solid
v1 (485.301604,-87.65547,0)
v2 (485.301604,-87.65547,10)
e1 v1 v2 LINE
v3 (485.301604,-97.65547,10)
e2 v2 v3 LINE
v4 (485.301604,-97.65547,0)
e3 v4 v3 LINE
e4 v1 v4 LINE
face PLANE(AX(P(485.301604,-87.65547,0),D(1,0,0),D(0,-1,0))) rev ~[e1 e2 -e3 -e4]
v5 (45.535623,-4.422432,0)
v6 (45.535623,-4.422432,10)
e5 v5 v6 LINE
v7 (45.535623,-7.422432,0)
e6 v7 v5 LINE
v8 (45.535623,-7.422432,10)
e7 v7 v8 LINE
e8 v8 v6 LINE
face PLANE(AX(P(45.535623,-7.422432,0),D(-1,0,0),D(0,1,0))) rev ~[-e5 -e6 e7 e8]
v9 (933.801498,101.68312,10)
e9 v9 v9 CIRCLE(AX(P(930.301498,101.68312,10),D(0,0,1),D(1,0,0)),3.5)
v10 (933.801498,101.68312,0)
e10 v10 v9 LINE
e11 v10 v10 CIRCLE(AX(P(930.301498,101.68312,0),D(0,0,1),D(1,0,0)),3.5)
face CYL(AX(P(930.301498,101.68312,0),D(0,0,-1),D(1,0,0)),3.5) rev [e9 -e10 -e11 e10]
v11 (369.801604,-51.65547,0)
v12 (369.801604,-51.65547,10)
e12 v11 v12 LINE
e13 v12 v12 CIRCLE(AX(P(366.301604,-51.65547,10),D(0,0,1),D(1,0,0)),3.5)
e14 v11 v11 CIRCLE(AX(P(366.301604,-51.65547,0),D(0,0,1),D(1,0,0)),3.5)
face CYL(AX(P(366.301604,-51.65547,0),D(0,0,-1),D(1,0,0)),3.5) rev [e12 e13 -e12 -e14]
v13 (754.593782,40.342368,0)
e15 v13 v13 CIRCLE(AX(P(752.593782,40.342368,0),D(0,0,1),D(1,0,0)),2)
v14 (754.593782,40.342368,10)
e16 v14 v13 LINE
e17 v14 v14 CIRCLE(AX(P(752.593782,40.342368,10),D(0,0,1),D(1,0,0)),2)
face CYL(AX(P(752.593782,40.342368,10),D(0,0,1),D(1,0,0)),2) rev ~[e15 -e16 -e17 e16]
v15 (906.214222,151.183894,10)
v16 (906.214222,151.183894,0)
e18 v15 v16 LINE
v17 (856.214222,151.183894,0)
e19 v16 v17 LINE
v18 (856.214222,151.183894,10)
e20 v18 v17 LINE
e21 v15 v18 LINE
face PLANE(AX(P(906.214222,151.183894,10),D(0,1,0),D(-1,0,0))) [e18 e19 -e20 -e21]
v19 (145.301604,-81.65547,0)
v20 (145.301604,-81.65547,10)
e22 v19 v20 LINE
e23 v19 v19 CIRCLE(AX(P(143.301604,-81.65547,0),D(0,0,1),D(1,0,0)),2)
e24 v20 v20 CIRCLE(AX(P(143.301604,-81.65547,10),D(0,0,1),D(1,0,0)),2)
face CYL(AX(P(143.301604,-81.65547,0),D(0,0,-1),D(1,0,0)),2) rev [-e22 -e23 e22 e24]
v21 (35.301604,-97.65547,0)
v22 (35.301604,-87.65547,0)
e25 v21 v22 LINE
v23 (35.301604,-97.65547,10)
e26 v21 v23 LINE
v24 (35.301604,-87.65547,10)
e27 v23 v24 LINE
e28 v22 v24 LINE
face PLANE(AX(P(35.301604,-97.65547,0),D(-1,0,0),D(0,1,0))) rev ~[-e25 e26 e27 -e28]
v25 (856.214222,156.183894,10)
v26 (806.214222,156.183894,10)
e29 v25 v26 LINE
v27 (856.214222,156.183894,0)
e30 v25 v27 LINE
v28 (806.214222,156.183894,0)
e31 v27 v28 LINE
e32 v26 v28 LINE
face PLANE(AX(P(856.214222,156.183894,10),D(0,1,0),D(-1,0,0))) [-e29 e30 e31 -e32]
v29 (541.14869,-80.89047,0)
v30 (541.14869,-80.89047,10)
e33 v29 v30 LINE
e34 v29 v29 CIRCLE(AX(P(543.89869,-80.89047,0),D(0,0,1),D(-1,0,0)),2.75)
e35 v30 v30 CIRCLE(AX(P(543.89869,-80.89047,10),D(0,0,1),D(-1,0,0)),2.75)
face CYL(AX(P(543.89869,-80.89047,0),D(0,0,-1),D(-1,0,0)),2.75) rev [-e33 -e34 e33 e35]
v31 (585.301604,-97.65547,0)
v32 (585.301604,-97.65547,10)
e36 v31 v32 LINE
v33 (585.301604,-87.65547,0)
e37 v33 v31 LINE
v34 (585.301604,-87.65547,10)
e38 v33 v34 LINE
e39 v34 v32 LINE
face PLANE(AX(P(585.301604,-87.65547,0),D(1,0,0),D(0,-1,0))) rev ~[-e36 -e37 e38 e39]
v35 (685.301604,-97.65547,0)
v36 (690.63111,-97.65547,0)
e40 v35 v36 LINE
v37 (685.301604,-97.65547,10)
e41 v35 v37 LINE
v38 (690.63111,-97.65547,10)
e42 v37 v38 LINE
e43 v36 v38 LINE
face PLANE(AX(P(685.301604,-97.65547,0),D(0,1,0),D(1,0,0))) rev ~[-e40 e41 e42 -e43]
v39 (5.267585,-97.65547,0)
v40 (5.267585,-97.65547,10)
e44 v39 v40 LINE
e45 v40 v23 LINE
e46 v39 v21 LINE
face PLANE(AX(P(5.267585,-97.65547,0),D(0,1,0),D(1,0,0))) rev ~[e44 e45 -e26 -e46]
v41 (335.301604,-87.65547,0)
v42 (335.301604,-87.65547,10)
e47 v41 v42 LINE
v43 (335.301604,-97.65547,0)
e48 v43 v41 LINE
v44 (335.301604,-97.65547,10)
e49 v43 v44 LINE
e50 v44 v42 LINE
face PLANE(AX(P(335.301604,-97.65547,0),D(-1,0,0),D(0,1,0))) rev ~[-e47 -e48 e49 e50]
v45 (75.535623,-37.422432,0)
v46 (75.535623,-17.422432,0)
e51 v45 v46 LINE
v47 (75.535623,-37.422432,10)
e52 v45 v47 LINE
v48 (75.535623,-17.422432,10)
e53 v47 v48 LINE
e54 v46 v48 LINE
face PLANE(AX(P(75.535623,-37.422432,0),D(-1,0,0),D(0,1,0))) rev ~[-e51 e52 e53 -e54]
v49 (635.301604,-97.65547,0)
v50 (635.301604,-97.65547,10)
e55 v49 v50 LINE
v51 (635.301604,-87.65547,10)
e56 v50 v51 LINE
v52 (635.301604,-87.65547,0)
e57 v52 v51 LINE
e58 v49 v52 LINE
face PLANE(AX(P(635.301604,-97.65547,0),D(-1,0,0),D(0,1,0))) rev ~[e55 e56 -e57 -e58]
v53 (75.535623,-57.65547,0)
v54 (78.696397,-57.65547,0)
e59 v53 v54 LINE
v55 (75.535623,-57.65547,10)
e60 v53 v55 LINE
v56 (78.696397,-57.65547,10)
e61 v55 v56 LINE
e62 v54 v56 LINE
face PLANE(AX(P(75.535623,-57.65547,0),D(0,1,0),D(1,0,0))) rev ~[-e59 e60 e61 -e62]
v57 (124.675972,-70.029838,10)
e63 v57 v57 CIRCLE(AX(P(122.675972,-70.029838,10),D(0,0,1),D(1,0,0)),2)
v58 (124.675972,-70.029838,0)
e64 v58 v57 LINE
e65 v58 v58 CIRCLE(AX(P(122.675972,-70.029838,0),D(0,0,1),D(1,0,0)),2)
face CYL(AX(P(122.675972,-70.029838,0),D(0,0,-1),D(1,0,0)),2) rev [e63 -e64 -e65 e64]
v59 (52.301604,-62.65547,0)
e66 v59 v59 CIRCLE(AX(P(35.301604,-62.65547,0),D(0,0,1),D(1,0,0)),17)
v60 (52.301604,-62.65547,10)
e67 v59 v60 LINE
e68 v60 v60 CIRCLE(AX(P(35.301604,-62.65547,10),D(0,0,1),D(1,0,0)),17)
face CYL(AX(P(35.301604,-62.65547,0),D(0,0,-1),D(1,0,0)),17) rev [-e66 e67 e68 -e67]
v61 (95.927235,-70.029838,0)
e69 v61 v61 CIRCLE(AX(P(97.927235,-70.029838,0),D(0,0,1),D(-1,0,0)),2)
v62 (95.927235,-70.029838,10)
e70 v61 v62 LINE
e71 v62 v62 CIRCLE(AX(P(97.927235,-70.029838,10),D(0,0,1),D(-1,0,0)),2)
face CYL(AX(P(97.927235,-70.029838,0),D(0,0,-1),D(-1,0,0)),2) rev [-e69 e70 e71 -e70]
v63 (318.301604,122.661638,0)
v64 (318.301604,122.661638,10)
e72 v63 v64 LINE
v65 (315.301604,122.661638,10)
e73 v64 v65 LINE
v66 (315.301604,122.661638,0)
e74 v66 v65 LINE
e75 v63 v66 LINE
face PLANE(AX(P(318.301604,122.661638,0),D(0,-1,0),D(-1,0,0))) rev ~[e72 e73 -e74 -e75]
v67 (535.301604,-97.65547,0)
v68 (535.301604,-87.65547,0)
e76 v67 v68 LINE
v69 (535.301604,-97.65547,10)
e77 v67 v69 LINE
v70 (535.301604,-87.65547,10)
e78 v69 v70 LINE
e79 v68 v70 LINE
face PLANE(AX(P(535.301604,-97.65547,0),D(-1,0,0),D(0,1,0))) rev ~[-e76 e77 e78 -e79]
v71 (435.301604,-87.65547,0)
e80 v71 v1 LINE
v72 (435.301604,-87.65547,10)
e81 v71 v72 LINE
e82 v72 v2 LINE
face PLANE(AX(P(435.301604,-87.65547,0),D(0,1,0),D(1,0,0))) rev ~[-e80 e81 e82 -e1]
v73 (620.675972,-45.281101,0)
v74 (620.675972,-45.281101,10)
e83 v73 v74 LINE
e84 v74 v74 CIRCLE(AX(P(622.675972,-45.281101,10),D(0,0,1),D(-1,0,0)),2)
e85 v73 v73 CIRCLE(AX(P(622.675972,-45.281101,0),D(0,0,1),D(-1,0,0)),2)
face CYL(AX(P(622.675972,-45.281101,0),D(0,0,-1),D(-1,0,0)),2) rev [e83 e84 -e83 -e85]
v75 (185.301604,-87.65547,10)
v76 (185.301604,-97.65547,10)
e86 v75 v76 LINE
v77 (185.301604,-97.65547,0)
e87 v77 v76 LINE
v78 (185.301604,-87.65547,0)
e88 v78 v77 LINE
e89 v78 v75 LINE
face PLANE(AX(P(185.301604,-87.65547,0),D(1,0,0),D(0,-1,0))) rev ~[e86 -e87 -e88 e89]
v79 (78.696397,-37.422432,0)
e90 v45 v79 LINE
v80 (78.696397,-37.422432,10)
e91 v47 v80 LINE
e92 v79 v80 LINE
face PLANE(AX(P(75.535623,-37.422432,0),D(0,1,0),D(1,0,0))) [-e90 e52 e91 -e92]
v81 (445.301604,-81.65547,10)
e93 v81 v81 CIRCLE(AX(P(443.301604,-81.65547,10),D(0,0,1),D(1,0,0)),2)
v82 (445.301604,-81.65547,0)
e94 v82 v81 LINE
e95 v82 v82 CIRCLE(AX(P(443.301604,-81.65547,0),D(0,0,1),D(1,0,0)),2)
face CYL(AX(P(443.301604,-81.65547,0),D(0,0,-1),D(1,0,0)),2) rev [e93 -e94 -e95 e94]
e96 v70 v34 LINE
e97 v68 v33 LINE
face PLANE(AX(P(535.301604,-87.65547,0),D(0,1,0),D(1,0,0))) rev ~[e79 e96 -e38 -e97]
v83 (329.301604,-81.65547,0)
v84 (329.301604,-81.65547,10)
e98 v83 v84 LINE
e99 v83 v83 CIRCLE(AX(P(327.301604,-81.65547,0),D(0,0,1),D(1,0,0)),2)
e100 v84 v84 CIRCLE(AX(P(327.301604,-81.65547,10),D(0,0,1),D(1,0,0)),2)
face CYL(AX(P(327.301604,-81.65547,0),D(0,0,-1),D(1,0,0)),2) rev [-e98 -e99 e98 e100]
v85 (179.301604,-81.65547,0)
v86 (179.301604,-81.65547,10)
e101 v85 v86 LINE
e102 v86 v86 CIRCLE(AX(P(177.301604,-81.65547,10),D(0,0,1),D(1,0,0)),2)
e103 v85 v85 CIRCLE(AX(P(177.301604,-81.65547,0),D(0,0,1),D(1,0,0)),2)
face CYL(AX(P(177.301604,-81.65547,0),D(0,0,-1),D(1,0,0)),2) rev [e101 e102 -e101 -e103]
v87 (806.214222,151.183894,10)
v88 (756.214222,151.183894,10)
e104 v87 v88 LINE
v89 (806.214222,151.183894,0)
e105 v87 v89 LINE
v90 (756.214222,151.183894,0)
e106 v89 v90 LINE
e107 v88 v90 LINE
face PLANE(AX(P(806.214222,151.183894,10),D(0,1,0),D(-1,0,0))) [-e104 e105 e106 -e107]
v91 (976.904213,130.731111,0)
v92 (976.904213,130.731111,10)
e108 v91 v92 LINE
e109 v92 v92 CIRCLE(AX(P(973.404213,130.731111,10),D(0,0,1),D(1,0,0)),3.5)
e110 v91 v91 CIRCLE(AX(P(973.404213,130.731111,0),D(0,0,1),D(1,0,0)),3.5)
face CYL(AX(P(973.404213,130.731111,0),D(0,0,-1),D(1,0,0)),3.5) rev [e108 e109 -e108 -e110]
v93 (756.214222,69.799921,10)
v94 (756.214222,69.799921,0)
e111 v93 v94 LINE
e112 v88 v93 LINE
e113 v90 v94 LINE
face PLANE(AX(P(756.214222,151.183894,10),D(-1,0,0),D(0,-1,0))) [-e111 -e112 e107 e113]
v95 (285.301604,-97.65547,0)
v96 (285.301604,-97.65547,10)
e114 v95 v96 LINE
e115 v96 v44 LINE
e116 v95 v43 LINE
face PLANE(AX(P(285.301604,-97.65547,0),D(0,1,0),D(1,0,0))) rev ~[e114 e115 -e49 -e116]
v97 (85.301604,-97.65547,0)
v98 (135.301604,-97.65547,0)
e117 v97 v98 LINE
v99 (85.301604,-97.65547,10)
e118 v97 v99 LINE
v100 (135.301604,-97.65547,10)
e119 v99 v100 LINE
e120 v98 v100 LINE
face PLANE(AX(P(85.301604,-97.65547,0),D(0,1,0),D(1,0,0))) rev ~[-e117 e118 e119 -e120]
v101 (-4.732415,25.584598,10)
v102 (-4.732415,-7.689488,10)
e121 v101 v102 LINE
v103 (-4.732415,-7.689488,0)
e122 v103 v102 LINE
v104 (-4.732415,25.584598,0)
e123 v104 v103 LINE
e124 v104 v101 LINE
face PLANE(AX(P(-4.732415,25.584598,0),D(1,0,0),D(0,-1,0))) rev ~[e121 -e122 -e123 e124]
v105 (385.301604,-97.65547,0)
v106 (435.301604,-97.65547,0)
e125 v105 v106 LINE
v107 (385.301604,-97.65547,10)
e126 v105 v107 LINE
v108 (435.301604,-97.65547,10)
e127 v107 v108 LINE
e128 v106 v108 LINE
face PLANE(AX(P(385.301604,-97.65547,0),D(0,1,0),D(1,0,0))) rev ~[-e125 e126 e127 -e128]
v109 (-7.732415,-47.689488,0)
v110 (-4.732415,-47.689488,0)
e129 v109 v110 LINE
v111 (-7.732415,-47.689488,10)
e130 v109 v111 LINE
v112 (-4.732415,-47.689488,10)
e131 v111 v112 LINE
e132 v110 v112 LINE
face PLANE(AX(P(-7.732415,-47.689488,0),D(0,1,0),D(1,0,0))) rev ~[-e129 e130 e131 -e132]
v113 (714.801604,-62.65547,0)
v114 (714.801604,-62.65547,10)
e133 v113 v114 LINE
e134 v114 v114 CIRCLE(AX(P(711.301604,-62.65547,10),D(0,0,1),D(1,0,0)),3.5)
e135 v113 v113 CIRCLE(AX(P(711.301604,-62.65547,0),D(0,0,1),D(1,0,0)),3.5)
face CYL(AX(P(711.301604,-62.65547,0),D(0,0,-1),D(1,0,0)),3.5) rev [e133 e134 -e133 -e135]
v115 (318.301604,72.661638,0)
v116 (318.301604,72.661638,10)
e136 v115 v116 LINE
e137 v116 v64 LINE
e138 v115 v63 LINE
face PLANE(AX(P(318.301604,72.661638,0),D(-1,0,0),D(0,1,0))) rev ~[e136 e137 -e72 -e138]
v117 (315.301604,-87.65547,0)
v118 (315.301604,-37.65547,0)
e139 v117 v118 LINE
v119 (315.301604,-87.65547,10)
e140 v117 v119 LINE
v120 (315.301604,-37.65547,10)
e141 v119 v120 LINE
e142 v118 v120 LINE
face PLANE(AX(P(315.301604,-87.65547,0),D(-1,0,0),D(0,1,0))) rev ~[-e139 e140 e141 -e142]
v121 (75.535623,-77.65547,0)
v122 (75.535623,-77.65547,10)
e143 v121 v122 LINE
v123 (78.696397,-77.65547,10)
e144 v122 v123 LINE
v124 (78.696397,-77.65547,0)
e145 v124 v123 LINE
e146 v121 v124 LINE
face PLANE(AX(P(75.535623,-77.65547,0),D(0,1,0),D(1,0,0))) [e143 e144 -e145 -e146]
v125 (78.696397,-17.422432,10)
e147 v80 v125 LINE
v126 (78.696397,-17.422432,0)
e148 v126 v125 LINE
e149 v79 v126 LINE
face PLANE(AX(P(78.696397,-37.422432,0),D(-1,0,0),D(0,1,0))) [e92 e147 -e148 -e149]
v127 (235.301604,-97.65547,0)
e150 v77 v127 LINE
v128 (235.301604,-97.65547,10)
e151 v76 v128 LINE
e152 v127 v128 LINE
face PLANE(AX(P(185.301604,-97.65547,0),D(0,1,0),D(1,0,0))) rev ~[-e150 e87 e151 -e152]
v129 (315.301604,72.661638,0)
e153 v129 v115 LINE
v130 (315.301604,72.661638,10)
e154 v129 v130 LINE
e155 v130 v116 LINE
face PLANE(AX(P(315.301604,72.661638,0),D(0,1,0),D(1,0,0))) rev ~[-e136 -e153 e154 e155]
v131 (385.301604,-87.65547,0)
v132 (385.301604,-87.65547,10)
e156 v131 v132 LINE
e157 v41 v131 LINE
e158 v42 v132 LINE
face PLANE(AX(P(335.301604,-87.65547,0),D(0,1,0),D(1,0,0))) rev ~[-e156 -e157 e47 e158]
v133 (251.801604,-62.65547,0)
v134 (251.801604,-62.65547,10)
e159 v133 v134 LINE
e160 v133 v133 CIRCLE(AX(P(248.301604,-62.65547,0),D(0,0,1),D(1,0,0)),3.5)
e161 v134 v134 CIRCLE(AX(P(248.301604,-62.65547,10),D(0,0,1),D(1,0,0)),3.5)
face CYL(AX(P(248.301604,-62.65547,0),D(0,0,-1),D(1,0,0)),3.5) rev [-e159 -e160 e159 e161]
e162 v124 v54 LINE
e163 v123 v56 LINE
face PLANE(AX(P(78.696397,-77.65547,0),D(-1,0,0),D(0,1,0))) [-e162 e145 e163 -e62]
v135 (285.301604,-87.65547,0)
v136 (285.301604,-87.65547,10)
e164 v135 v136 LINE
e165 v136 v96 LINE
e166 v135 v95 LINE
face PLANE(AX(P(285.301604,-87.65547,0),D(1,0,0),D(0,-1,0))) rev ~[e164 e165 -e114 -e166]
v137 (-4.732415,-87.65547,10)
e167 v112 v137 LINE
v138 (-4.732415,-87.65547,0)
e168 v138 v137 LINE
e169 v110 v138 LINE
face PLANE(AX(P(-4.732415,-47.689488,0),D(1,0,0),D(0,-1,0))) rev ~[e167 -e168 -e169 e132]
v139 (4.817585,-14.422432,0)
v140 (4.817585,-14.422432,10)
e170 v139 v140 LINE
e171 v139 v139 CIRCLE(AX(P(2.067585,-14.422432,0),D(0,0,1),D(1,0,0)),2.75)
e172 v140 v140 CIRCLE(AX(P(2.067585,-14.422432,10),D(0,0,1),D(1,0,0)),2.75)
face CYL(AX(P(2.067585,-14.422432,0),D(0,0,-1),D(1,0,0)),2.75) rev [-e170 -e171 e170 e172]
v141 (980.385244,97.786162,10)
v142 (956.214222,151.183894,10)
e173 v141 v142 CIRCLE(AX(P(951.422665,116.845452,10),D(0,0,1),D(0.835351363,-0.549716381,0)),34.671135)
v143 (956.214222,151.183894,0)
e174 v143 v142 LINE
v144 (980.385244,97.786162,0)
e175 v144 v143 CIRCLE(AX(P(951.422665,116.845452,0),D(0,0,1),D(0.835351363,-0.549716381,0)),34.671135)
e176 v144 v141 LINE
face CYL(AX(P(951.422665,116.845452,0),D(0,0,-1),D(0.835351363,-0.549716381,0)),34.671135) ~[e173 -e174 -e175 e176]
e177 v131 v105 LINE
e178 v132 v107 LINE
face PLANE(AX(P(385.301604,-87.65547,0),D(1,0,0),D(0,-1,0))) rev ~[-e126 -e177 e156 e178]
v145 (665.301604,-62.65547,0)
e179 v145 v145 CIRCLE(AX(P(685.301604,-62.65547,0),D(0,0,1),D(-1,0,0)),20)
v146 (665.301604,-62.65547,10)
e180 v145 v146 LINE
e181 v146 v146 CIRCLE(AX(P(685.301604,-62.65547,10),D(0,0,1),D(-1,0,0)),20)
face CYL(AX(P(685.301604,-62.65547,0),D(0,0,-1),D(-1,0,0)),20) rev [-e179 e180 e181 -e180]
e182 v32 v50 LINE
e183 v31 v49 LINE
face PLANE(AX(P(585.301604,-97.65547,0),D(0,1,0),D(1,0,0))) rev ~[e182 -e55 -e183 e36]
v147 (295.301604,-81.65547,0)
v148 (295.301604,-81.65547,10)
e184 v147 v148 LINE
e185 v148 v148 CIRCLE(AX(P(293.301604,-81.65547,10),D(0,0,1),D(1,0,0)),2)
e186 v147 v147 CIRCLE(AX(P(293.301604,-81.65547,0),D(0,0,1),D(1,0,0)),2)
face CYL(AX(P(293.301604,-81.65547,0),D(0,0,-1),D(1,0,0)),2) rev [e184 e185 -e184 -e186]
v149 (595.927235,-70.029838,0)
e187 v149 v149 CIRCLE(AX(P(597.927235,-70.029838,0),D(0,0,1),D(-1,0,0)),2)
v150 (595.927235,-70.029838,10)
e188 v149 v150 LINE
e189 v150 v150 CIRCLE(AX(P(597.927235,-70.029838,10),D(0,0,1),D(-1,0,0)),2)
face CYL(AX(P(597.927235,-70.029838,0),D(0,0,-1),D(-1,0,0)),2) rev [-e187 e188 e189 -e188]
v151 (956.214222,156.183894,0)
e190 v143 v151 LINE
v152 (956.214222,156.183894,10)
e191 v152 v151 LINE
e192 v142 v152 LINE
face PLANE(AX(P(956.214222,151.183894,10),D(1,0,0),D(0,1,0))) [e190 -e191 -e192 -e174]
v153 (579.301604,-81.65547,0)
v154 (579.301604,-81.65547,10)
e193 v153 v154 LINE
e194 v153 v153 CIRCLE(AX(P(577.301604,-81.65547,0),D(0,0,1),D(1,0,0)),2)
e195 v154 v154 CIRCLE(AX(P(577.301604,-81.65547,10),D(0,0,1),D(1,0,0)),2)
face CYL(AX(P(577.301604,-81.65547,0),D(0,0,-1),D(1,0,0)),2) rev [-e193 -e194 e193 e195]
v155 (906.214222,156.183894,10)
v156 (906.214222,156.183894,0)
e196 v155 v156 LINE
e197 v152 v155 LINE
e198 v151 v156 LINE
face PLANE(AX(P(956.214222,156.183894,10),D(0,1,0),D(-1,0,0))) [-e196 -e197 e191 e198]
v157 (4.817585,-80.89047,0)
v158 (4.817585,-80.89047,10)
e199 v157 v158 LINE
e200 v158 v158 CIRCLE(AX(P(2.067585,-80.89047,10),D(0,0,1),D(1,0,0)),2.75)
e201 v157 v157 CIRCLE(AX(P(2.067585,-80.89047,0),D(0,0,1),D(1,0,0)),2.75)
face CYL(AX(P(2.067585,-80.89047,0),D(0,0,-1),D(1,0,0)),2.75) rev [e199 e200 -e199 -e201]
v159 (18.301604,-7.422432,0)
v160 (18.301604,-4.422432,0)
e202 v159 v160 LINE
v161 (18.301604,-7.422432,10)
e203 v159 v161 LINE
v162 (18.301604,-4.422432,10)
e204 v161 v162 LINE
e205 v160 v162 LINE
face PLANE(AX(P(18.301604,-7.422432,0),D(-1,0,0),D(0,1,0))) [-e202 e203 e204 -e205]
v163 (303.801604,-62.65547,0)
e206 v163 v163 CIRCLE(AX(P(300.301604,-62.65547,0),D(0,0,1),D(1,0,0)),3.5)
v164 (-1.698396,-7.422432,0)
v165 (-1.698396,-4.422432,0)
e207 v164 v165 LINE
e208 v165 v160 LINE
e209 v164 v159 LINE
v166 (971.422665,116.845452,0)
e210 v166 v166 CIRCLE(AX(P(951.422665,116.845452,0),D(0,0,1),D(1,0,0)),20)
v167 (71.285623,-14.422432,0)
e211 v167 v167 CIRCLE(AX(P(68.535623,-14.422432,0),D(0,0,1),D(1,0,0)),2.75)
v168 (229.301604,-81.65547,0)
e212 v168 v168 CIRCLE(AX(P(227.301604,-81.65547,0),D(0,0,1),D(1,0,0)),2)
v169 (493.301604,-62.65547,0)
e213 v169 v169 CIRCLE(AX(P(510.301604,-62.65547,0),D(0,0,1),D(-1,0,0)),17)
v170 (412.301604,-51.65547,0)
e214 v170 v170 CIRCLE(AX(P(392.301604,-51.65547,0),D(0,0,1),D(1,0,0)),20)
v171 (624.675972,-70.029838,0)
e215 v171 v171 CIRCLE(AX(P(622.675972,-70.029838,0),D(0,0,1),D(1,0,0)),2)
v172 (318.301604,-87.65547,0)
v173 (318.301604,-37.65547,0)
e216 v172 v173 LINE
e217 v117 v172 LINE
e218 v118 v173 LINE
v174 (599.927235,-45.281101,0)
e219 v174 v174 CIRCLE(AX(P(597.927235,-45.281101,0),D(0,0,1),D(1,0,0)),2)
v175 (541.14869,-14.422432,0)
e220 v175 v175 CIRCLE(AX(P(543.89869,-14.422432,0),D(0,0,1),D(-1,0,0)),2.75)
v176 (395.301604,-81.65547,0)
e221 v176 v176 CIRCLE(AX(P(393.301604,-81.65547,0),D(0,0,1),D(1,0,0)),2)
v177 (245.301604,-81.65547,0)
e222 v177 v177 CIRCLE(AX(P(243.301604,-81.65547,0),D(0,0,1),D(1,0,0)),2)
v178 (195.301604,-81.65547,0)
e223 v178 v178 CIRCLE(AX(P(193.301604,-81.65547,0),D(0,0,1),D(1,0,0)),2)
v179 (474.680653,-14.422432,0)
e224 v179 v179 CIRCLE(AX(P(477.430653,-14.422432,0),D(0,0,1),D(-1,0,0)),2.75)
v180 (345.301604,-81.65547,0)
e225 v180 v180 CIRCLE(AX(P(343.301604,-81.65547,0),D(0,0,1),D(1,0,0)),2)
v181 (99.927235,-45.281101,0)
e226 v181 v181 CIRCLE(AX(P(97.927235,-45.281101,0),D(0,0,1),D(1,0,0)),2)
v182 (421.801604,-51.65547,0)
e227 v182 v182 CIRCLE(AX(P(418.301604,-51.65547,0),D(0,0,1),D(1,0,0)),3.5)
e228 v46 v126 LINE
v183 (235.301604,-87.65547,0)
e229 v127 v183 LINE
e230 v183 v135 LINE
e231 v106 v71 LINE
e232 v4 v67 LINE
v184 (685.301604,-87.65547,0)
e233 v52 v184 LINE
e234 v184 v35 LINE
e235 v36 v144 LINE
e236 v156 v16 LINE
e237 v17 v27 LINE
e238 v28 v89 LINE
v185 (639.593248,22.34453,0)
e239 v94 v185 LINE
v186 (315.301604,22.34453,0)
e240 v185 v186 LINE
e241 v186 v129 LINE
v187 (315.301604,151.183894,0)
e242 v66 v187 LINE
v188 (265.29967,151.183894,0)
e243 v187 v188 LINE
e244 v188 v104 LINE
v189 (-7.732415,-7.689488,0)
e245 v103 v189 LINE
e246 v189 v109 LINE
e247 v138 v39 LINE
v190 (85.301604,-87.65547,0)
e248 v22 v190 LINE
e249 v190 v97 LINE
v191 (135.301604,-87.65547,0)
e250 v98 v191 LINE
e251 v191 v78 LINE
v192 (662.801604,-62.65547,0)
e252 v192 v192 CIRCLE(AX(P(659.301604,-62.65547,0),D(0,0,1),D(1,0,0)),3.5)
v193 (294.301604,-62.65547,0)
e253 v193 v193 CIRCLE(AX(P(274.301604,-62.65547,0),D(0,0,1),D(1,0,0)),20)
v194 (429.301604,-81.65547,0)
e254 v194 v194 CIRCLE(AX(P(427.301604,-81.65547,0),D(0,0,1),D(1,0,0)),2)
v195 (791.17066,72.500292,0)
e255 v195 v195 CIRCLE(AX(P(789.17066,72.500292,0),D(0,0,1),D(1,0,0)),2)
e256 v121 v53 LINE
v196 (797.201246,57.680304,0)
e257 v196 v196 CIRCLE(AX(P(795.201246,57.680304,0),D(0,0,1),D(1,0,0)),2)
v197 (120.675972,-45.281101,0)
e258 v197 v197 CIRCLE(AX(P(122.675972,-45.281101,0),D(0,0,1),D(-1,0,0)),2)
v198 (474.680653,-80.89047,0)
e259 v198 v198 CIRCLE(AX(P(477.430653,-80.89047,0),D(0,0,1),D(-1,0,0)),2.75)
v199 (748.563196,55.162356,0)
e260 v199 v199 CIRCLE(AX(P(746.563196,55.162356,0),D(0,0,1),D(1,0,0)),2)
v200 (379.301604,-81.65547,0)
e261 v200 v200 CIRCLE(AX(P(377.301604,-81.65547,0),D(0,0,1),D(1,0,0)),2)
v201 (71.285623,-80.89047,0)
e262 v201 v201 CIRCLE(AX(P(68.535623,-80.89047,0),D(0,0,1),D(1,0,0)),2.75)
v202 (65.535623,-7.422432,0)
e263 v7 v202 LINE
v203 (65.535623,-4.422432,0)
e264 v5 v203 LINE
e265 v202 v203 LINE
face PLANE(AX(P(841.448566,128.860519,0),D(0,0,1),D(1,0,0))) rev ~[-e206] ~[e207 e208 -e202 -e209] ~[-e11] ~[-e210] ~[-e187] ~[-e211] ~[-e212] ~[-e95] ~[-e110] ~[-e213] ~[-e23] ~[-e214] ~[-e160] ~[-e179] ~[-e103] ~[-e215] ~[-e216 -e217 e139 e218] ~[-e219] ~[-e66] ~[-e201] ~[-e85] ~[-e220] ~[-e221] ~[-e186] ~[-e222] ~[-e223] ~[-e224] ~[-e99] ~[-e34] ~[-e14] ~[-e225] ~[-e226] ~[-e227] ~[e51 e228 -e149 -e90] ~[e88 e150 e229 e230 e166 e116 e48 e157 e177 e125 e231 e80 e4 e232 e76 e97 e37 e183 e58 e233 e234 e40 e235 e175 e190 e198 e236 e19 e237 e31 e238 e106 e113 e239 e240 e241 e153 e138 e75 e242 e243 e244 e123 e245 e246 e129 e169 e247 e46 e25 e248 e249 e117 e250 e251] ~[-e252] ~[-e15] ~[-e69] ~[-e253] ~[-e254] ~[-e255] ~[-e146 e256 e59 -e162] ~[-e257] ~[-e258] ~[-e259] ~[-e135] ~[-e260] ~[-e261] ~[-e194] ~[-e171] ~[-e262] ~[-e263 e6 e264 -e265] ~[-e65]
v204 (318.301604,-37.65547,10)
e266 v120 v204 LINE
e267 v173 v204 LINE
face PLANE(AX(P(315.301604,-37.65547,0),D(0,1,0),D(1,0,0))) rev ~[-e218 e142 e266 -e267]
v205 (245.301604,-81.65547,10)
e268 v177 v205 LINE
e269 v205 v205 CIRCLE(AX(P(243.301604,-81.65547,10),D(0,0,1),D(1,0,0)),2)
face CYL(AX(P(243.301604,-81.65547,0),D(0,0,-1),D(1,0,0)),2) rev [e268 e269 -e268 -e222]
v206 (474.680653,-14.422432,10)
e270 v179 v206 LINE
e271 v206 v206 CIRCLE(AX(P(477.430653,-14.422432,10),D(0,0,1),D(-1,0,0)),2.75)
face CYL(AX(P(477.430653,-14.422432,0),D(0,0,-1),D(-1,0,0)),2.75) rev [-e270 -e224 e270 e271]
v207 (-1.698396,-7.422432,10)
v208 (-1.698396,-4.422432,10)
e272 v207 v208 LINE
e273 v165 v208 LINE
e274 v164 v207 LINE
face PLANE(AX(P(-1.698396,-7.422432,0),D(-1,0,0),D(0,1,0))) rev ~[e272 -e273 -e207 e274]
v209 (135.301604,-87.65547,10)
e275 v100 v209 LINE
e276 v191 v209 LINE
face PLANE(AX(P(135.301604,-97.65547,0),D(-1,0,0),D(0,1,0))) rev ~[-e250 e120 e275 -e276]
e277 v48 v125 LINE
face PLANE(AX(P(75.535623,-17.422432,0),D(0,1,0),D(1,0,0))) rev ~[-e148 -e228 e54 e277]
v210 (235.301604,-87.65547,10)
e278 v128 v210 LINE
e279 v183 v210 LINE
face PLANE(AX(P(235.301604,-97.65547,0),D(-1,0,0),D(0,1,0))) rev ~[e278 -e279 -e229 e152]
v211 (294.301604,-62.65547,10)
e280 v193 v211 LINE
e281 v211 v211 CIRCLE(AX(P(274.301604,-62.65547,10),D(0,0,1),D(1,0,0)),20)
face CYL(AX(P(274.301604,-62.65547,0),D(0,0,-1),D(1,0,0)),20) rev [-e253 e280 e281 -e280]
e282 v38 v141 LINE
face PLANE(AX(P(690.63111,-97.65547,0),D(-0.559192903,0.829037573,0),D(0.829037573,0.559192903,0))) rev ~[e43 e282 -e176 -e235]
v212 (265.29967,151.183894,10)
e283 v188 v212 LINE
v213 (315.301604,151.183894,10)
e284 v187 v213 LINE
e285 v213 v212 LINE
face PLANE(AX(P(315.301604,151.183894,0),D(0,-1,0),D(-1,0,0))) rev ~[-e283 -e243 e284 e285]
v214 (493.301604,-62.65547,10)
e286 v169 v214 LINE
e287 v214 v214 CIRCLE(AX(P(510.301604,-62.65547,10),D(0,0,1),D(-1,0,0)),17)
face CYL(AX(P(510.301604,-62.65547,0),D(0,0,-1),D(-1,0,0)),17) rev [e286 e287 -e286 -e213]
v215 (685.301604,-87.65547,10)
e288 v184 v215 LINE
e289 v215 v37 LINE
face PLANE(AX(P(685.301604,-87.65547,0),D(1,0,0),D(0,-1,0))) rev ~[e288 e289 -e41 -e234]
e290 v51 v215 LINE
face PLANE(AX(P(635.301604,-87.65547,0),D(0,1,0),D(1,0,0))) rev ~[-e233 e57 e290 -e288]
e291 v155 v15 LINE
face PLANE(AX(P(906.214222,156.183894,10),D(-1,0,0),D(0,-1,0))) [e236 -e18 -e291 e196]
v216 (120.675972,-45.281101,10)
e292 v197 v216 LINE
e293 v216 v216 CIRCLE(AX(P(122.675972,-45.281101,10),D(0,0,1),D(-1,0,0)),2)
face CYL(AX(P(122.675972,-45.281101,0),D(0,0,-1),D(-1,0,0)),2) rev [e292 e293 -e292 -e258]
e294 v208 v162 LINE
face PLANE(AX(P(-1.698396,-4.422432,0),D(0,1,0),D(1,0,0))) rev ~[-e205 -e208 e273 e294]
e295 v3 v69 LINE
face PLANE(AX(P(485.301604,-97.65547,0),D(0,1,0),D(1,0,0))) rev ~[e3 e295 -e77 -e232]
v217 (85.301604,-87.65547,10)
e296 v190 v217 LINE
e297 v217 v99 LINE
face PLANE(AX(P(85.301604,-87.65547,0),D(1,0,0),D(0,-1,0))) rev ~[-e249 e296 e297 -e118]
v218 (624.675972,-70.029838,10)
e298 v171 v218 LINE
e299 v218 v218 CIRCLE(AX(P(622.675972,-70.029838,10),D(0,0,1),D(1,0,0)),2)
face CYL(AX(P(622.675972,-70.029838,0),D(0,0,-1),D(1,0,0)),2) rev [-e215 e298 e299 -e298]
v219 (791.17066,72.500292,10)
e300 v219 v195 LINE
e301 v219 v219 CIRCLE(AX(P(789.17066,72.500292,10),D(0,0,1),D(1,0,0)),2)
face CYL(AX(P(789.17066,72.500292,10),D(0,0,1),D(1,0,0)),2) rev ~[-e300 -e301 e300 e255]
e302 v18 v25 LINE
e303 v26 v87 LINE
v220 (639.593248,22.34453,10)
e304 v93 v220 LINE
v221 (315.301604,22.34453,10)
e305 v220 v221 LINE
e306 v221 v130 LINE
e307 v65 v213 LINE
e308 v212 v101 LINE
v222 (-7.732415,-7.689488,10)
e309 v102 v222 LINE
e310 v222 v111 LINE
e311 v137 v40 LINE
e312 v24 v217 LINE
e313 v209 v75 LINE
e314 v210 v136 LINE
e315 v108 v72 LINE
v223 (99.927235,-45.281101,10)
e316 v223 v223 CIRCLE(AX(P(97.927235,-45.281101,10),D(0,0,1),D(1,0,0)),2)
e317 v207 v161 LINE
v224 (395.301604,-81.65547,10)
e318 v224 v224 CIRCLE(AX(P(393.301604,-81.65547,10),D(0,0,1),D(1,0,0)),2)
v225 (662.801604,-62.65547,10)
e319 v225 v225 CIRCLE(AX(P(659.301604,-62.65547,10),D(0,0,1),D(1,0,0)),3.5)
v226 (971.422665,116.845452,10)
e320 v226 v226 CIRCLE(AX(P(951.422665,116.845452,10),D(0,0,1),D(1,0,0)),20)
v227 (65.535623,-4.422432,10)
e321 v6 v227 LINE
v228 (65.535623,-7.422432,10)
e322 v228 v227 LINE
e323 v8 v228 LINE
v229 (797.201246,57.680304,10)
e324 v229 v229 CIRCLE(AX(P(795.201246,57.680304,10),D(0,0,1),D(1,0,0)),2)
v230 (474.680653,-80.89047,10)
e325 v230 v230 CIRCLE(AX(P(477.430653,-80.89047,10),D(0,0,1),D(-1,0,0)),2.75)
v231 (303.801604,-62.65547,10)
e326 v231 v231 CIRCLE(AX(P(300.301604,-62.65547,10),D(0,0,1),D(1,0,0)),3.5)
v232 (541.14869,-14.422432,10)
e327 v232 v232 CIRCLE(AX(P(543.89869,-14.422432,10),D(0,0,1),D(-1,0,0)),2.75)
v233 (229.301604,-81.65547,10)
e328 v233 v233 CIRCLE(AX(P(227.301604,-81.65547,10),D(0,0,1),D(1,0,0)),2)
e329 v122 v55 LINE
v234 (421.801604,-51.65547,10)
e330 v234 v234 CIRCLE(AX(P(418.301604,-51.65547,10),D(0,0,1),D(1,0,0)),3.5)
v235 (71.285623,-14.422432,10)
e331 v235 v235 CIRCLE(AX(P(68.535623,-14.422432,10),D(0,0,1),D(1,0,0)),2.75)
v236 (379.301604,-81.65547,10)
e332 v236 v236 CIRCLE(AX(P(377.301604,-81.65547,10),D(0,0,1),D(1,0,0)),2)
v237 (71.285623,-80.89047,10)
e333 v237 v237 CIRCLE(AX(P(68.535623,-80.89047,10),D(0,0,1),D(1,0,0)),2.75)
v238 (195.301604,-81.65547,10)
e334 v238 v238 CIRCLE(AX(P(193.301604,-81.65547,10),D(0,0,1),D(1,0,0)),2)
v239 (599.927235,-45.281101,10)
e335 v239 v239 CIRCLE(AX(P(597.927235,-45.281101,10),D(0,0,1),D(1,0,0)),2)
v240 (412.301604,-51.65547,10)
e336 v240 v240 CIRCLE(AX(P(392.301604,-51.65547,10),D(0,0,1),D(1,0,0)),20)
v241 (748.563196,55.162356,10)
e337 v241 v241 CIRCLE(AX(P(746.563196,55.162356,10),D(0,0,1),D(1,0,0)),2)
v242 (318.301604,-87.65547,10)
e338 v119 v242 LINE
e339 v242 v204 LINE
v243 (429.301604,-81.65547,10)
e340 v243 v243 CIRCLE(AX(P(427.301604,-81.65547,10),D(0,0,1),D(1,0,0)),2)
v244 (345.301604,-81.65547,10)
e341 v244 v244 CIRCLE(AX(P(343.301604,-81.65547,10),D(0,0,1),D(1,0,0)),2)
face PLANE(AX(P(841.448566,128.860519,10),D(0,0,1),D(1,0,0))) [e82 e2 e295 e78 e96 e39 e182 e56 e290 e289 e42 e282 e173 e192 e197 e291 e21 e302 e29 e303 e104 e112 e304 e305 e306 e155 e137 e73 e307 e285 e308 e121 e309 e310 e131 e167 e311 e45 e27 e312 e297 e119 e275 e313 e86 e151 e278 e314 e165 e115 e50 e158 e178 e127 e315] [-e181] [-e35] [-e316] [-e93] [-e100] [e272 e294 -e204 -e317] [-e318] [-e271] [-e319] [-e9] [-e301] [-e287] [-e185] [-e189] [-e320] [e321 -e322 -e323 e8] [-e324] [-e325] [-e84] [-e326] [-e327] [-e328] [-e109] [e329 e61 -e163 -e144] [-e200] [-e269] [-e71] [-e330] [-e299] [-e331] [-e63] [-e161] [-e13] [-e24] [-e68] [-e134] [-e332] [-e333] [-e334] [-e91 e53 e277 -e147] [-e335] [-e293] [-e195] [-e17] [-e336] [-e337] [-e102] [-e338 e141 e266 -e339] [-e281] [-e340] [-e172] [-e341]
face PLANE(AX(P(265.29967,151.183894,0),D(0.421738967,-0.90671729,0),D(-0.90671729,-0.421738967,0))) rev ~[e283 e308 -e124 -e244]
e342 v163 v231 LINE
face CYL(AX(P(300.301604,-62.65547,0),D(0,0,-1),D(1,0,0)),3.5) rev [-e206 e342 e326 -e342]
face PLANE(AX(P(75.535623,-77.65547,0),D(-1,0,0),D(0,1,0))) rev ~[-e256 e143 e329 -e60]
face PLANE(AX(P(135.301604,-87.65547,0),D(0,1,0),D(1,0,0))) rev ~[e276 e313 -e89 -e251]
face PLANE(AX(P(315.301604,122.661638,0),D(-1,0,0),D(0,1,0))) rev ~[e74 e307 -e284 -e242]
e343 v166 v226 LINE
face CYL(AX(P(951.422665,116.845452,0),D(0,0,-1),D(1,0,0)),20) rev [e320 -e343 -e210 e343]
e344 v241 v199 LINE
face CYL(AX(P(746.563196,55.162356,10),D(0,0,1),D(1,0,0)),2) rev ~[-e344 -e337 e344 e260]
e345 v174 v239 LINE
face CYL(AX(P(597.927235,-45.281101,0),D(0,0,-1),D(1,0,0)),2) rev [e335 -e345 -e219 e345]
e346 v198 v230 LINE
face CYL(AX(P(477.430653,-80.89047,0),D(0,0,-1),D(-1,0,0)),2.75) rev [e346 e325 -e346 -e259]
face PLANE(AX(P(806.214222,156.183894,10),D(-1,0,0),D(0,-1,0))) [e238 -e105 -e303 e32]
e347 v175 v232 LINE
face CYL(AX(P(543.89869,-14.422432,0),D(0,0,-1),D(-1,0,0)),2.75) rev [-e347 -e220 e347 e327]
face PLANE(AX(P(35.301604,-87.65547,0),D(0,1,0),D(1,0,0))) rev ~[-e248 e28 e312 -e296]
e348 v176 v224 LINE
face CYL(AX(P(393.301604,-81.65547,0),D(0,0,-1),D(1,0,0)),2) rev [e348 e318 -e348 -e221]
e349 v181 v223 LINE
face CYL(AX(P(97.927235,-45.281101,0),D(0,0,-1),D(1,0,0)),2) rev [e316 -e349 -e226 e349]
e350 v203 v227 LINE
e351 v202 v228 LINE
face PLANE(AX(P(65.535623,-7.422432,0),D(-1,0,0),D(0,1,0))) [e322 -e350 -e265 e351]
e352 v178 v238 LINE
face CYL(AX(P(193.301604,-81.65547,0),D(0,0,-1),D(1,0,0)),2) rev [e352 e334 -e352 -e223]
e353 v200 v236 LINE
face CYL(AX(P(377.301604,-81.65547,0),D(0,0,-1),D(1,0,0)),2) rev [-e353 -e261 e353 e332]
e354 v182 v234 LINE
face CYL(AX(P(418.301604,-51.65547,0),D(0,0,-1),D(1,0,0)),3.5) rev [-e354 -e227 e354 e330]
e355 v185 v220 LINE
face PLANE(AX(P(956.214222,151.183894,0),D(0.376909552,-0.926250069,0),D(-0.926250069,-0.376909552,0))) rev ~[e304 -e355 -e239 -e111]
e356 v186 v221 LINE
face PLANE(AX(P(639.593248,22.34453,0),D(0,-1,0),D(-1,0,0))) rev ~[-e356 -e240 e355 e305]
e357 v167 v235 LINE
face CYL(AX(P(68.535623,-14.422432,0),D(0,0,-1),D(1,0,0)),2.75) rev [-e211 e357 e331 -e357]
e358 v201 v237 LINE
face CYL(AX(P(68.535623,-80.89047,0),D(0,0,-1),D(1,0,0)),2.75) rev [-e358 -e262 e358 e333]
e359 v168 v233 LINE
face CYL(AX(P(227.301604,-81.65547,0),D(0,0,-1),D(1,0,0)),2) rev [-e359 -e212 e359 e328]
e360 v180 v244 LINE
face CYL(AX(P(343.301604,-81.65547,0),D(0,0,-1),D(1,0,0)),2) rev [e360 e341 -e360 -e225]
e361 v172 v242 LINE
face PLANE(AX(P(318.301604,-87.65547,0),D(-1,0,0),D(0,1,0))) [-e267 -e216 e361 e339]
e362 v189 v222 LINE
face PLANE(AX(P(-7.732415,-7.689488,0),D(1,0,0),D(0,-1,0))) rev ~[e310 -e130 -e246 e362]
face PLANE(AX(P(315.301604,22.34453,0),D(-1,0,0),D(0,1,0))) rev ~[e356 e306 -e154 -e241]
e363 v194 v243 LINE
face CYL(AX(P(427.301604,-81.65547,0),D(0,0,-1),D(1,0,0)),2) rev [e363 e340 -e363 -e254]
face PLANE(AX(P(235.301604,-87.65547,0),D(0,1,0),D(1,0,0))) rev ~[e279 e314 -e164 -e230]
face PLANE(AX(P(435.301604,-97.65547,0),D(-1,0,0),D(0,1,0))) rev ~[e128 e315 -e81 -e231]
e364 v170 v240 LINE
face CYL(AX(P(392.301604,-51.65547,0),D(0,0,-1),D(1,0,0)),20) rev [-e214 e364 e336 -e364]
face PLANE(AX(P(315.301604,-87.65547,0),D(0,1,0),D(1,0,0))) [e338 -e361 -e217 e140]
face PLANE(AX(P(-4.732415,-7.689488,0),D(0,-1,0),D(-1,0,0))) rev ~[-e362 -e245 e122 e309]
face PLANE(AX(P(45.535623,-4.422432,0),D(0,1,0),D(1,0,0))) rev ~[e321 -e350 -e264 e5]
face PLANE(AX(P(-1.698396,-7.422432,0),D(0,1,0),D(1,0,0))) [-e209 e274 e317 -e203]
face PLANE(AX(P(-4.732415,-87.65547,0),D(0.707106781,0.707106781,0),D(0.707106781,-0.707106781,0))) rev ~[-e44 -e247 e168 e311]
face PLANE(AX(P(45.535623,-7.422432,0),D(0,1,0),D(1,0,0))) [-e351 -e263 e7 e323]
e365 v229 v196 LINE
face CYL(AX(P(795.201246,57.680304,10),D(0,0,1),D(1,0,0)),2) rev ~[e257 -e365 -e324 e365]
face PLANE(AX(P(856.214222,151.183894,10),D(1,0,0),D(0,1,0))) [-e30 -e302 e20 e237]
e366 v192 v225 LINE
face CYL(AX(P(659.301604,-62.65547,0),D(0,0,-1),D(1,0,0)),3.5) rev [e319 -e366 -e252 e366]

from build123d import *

# Parameters (mm, degrees)
SKETCH_1_R          = 2.75
SKETCH_1_R_2        = 17
SKETCH_1_R_3        = 20
SKETCH_1_R_4        = 3.5
SKETCH_1_R_5        = 2
SKETCH_1_W          = 20
SKETCH_1_H          = 3
SKETCH_1_W_2        = 3.160774411
SKETCH_1_H_2        = 20
SKETCH_1_W_3        = 3
SKETCH_1_H_3        = 50
EXTRUDE_1_DEPTH     = 10
EXTRUDE_3_DEPTH     = 10
SKETCH_3_R          = 2
CUT_EXTRUDE_1_DEPTH = 999.435971659


with BuildPart() as part:
    # 스케치1 → 보스-돌출1 (new body)
    with BuildSketch(Plane.XY):
        with BuildLine():
            Line((5.267585072, -97.655469737), (35.301603788, -97.655469737))
            Line((35.301603788, -97.655469737), (35.301603788, -87.655469737))
            Line((35.301603788, -87.655469737), (85.301603788, -87.655469737))
            Line((85.301603788, -87.655469737), (85.301603788, -97.655469737))
            Line((85.301603788, -97.655469737), (85.305622503, -97.655469737))
            Line((85.305622503, -97.655469737), (135.297585072, -97.655469737))
            Line((135.297585072, -97.655469737), (135.301603788, -97.655469737))
            Line((135.301603788, -97.655469737), (135.301603788, -87.655469737))
            Line((135.301603788, -87.655469737), (185.301603788, -87.655469737))
            Line((185.301603788, -87.655469737), (185.301603788, -97.655469737))
            Line((185.301603788, -97.655469737), (231.531603788, -97.655469737))
            Line((231.531603788, -97.655469737), (235.301603788, -97.655469737))
            Line((235.301603788, -97.655469737), (235.301603788, -87.655469737))
            Line((235.301603788, -87.655469737), (285.301603788, -87.655469737))
            Line((285.301603788, -87.655469737), (285.301603788, -97.655469737))
            Line((285.301603788, -97.655469737), (335.301603788, -97.655469737))
            Line((335.301603788, -97.655469737), (335.301603788, -87.655469737))
            Line((335.301603788, -87.655469737), (385.301603788, -87.655469737))
            Line((385.301603788, -87.655469737), (385.301603788, -97.655469737))
            Line((385.301603788, -97.655469737), (435.301603788, -97.655469737))
            Line((435.301603788, -97.655469737), (435.301603788, -87.655469737))
            Line((435.301603788, -87.655469737), (485.301603788, -87.655469737))
            Line((485.301603788, -87.655469737), (485.301603788, -97.655469737))
            Line((485.301603788, -97.655469737), (535.301603788, -97.655469737))
            Line((535.301603788, -97.655469737), (535.301603788, -87.655469737))
            Line((535.301603788, -87.655469737), (585.301603788, -87.655469737))
            Line((585.301603788, -87.655469737), (585.301603788, -97.655469737))
            Line((585.301603788, -97.655469737), (635.301603788, -97.655469737))
            Line((635.301603788, -97.655469737), (635.301603788, -87.655469737))
            Line((635.301603788, -87.655469737), (685.301603788, -87.655469737))
            Line((685.301603788, -87.655469737), (685.301603788, -97.655469737))
            Line((685.301603788, -97.655469737), (690.631109923, -97.655469737))
            Line((690.631109923, -97.655469737), (980.385244165, 97.7861616))
            ThreePointArc((980.385244165, 97.7861616), (983.008498199, 131.143098655), (956.214221814, 151.183893662))
            Line((956.214221814, 151.183893662), (639.593248415, 22.344530263))
            Line((639.593248415, 22.344530263), (315.301603788, 22.344530263))
            Line((315.301603788, 22.344530263), (315.301603788, 72.661637882))
            Line((315.301603788, 72.661637882), (318.301603788, 72.661637882))
            Line((318.301603788, 72.661637882), (318.301603788, 122.661637882))
            Line((318.301603788, 122.661637882), (315.301603788, 122.661637882))
            Line((315.301603788, 122.661637882), (315.301603788, 146.501001281))
            Line((315.301603788, 146.501001281), (315.301603788, 151.183893662))
            Line((315.301603788, 151.183893662), (265.299669923, 151.183893662))
            Line((265.299669923, 151.183893662), (-4.732414928, 25.58459835))
            Line((-4.732414928, 25.58459835), (-4.732414928, -7.689488453))
            Line((-4.732414928, -7.689488453), (-7.732414928, -7.689488453))
            Line((-7.732414928, -7.689488453), (-7.732414928, -47.689488453))
            Line((-7.732414928, -47.689488453), (-4.732414928, -47.689488453))
            Line((-4.732414928, -47.689488453), (-4.732414928, -87.655469737))
            Line((-4.732414928, -87.655469737), (5.267585072, -97.655469737))
        make_face()
        with Locations((2.067585072, -80.890469737)):
            Circle(SKETCH_1_R, mode=Mode.SUBTRACT)
        with Locations((2.067585072, -14.422432305)):
            Circle(SKETCH_1_R, mode=Mode.SUBTRACT)
        with Locations((68.535622503, -14.422432305)):
            Circle(SKETCH_1_R, mode=Mode.SUBTRACT)
        with Locations((68.535622503, -80.890469737)):
            Circle(SKETCH_1_R, mode=Mode.SUBTRACT)
        with Locations((35.301603788, -62.655469737)):
            Circle(SKETCH_1_R_2, mode=Mode.SUBTRACT)
        with Locations(Location((685.301603788, -62.655469737, 0), (0, 0, 180))):
            Circle(SKETCH_1_R_3, mode=Mode.SUBTRACT)
        with Locations((951.422664578, 116.845452277)):
            Circle(SKETCH_1_R_3, mode=Mode.SUBTRACT)
        with Locations((973.404213264, 130.731110971)):
            Circle(SKETCH_1_R_4, mode=Mode.SUBTRACT)
        with Locations((930.301497775, 101.683120237)):
            Circle(SKETCH_1_R_4, mode=Mode.SUBTRACT)
        with Locations((274.301603788, -62.655469737)):
            Circle(SKETCH_1_R_3, mode=Mode.SUBTRACT)
        with Locations((248.301603788, -62.655469737)):
            Circle(SKETCH_1_R_4, mode=Mode.SUBTRACT)
        with Locations((300.301603788, -62.655469737)):
            Circle(SKETCH_1_R_4, mode=Mode.SUBTRACT)
        with Locations((392.301603788, -51.655469737)):
            Circle(SKETCH_1_R_3, mode=Mode.SUBTRACT)
        with Locations((366.301603788, -51.655469737)):
            Circle(SKETCH_1_R_4, mode=Mode.SUBTRACT)
        with Locations((418.301603788, -51.655469737)):
            Circle(SKETCH_1_R_4, mode=Mode.SUBTRACT)
        with Locations(Location((543.898689933, -14.422432305, 0), (0, 0, 180))):
            Circle(SKETCH_1_R, mode=Mode.SUBTRACT)
        with Locations(Location((477.430652501, -14.422432305, 0), (0, 0, 180))):
            Circle(SKETCH_1_R, mode=Mode.SUBTRACT)
        with Locations(Location((477.430652501, -80.890469737, 0), (0, 0, 180))):
            Circle(SKETCH_1_R, mode=Mode.SUBTRACT)
        with Locations(Location((543.898689933, -80.890469737, 0), (0, 0, 180))):
            Circle(SKETCH_1_R, mode=Mode.SUBTRACT)
        with Locations(Location((510.301603788, -62.655469737, 0), (0, 0, 180))):
            Circle(SKETCH_1_R_2, mode=Mode.SUBTRACT)
        with Locations((659.301603788, -62.655469737)):
            Circle(SKETCH_1_R_4, mode=Mode.SUBTRACT)
        with Locations((711.301603788, -62.655469737)):
            Circle(SKETCH_1_R_4, mode=Mode.SUBTRACT)
        with Locations((143.301603788, -81.655469737)):
            Circle(SKETCH_1_R_5, mode=Mode.SUBTRACT)
        with Locations((177.301603788, -81.655469737)):
            Circle(SKETCH_1_R_5, mode=Mode.SUBTRACT)
        with Locations((193.301603788, -81.655469737)):
            Circle(SKETCH_1_R_5, mode=Mode.SUBTRACT)
        with Locations((227.301603788, -81.655469737)):
            Circle(SKETCH_1_R_5, mode=Mode.SUBTRACT)
        with Locations((243.301603788, -81.655469737)):
            Circle(SKETCH_1_R_5, mode=Mode.SUBTRACT)
        with Locations((293.301603788, -81.655469737)):
            Circle(SKETCH_1_R_5, mode=Mode.SUBTRACT)
        with Locations((327.301603788, -81.655469737)):
            Circle(SKETCH_1_R_5, mode=Mode.SUBTRACT)
        with Locations((343.301603788, -81.655469737)):
            Circle(SKETCH_1_R_5, mode=Mode.SUBTRACT)
        with Locations((377.301603788, -81.655469737)):
            Circle(SKETCH_1_R_5, mode=Mode.SUBTRACT)
        with Locations((393.301603788, -81.655469737)):
            Circle(SKETCH_1_R_5, mode=Mode.SUBTRACT)
        with Locations((427.301603788, -81.655469737)):
            Circle(SKETCH_1_R_5, mode=Mode.SUBTRACT)
        with Locations((443.301603788, -81.655469737)):
            Circle(SKETCH_1_R_5, mode=Mode.SUBTRACT)
        with Locations((577.301603788, -81.655469737)):
            Circle(SKETCH_1_R_5, mode=Mode.SUBTRACT)
        with Locations((97.927235117, -45.281101066)):
            Circle(SKETCH_1_R_5, mode=Mode.SUBTRACT)
        with Locations(Location((122.675972458, -45.281101066, 0), (0, 0, 180))):
            Circle(SKETCH_1_R_5, mode=Mode.SUBTRACT)
        with Locations((122.675972458, -70.029838408)):
            Circle(SKETCH_1_R_5, mode=Mode.SUBTRACT)
        with Locations(Location((97.927235117, -70.029838408, 0), (0, 0, 180))):
            Circle(SKETCH_1_R_5, mode=Mode.SUBTRACT)
        with Locations((597.927235117, -45.281101066)):
            Circle(SKETCH_1_R_5, mode=Mode.SUBTRACT)
        with Locations(Location((622.675972458, -45.281101066, 0), (0, 0, 180))):
            Circle(SKETCH_1_R_5, mode=Mode.SUBTRACT)
        with Locations((622.675972458, -70.029838408)):
            Circle(SKETCH_1_R_5, mode=Mode.SUBTRACT)
        with Locations(Location((597.927235117, -70.029838408, 0), (0, 0, 180))):
            Circle(SKETCH_1_R_5, mode=Mode.SUBTRACT)
        with Locations((8.301603788, -5.922432305)):
            Rectangle(SKETCH_1_W, SKETCH_1_H, mode=Mode.SUBTRACT)
        with Locations((55.535622503, -5.922432305)):
            Rectangle(SKETCH_1_W, SKETCH_1_H, mode=Mode.SUBTRACT)
        with Locations((77.116009709, -27.422432305)):
            Rectangle(SKETCH_1_W_2, SKETCH_1_H_2, mode=Mode.SUBTRACT)
        with Locations((77.116009709, -67.655469737)):
            Rectangle(SKETCH_1_W_2, SKETCH_1_H_2, mode=Mode.SUBTRACT)
        with Locations((316.801603788, -62.655469737)):
            Rectangle(SKETCH_1_W_3, SKETCH_1_H_3, mode=Mode.SUBTRACT)
    extrude(amount=EXTRUDE_1_DEPTH)

    # 스케치2 → 보스-돌출3 (add)
    with BuildSketch(Plane.XY.offset(10)):
        Polygon((756.214221814, 151.183893662), (756.214221814, 69.799920885), (956.214221814, 151.183893662), (956.214221814, 156.183893662), (906.214221814, 156.183893662), (906.214221814, 151.183893662), (856.214221814, 151.183893662), (856.214221814, 156.183893662), (806.214221814, 156.183893662), (806.214221814, 151.183893662), align=None)
    extrude(amount=-EXTRUDE_3_DEPTH)

    # 스케치3 → 컷-돌출1 (cut, through all)
    with BuildSketch(Plane.XY.offset(10)):
        with Locations((746.563195632, 55.162355864)):
            Circle(SKETCH_3_R)
        with Locations((752.593781974, 40.342368402)):
            Circle(SKETCH_3_R)
        with Locations((789.170659585, 72.500291597)):
            Circle(SKETCH_3_R)
        with Locations((795.201245927, 57.680304135)):
            Circle(SKETCH_3_R)
    extrude(amount=-CUT_EXTRUDE_1_DEPTH, mode=Mode.SUBTRACT)


solid = part.part
